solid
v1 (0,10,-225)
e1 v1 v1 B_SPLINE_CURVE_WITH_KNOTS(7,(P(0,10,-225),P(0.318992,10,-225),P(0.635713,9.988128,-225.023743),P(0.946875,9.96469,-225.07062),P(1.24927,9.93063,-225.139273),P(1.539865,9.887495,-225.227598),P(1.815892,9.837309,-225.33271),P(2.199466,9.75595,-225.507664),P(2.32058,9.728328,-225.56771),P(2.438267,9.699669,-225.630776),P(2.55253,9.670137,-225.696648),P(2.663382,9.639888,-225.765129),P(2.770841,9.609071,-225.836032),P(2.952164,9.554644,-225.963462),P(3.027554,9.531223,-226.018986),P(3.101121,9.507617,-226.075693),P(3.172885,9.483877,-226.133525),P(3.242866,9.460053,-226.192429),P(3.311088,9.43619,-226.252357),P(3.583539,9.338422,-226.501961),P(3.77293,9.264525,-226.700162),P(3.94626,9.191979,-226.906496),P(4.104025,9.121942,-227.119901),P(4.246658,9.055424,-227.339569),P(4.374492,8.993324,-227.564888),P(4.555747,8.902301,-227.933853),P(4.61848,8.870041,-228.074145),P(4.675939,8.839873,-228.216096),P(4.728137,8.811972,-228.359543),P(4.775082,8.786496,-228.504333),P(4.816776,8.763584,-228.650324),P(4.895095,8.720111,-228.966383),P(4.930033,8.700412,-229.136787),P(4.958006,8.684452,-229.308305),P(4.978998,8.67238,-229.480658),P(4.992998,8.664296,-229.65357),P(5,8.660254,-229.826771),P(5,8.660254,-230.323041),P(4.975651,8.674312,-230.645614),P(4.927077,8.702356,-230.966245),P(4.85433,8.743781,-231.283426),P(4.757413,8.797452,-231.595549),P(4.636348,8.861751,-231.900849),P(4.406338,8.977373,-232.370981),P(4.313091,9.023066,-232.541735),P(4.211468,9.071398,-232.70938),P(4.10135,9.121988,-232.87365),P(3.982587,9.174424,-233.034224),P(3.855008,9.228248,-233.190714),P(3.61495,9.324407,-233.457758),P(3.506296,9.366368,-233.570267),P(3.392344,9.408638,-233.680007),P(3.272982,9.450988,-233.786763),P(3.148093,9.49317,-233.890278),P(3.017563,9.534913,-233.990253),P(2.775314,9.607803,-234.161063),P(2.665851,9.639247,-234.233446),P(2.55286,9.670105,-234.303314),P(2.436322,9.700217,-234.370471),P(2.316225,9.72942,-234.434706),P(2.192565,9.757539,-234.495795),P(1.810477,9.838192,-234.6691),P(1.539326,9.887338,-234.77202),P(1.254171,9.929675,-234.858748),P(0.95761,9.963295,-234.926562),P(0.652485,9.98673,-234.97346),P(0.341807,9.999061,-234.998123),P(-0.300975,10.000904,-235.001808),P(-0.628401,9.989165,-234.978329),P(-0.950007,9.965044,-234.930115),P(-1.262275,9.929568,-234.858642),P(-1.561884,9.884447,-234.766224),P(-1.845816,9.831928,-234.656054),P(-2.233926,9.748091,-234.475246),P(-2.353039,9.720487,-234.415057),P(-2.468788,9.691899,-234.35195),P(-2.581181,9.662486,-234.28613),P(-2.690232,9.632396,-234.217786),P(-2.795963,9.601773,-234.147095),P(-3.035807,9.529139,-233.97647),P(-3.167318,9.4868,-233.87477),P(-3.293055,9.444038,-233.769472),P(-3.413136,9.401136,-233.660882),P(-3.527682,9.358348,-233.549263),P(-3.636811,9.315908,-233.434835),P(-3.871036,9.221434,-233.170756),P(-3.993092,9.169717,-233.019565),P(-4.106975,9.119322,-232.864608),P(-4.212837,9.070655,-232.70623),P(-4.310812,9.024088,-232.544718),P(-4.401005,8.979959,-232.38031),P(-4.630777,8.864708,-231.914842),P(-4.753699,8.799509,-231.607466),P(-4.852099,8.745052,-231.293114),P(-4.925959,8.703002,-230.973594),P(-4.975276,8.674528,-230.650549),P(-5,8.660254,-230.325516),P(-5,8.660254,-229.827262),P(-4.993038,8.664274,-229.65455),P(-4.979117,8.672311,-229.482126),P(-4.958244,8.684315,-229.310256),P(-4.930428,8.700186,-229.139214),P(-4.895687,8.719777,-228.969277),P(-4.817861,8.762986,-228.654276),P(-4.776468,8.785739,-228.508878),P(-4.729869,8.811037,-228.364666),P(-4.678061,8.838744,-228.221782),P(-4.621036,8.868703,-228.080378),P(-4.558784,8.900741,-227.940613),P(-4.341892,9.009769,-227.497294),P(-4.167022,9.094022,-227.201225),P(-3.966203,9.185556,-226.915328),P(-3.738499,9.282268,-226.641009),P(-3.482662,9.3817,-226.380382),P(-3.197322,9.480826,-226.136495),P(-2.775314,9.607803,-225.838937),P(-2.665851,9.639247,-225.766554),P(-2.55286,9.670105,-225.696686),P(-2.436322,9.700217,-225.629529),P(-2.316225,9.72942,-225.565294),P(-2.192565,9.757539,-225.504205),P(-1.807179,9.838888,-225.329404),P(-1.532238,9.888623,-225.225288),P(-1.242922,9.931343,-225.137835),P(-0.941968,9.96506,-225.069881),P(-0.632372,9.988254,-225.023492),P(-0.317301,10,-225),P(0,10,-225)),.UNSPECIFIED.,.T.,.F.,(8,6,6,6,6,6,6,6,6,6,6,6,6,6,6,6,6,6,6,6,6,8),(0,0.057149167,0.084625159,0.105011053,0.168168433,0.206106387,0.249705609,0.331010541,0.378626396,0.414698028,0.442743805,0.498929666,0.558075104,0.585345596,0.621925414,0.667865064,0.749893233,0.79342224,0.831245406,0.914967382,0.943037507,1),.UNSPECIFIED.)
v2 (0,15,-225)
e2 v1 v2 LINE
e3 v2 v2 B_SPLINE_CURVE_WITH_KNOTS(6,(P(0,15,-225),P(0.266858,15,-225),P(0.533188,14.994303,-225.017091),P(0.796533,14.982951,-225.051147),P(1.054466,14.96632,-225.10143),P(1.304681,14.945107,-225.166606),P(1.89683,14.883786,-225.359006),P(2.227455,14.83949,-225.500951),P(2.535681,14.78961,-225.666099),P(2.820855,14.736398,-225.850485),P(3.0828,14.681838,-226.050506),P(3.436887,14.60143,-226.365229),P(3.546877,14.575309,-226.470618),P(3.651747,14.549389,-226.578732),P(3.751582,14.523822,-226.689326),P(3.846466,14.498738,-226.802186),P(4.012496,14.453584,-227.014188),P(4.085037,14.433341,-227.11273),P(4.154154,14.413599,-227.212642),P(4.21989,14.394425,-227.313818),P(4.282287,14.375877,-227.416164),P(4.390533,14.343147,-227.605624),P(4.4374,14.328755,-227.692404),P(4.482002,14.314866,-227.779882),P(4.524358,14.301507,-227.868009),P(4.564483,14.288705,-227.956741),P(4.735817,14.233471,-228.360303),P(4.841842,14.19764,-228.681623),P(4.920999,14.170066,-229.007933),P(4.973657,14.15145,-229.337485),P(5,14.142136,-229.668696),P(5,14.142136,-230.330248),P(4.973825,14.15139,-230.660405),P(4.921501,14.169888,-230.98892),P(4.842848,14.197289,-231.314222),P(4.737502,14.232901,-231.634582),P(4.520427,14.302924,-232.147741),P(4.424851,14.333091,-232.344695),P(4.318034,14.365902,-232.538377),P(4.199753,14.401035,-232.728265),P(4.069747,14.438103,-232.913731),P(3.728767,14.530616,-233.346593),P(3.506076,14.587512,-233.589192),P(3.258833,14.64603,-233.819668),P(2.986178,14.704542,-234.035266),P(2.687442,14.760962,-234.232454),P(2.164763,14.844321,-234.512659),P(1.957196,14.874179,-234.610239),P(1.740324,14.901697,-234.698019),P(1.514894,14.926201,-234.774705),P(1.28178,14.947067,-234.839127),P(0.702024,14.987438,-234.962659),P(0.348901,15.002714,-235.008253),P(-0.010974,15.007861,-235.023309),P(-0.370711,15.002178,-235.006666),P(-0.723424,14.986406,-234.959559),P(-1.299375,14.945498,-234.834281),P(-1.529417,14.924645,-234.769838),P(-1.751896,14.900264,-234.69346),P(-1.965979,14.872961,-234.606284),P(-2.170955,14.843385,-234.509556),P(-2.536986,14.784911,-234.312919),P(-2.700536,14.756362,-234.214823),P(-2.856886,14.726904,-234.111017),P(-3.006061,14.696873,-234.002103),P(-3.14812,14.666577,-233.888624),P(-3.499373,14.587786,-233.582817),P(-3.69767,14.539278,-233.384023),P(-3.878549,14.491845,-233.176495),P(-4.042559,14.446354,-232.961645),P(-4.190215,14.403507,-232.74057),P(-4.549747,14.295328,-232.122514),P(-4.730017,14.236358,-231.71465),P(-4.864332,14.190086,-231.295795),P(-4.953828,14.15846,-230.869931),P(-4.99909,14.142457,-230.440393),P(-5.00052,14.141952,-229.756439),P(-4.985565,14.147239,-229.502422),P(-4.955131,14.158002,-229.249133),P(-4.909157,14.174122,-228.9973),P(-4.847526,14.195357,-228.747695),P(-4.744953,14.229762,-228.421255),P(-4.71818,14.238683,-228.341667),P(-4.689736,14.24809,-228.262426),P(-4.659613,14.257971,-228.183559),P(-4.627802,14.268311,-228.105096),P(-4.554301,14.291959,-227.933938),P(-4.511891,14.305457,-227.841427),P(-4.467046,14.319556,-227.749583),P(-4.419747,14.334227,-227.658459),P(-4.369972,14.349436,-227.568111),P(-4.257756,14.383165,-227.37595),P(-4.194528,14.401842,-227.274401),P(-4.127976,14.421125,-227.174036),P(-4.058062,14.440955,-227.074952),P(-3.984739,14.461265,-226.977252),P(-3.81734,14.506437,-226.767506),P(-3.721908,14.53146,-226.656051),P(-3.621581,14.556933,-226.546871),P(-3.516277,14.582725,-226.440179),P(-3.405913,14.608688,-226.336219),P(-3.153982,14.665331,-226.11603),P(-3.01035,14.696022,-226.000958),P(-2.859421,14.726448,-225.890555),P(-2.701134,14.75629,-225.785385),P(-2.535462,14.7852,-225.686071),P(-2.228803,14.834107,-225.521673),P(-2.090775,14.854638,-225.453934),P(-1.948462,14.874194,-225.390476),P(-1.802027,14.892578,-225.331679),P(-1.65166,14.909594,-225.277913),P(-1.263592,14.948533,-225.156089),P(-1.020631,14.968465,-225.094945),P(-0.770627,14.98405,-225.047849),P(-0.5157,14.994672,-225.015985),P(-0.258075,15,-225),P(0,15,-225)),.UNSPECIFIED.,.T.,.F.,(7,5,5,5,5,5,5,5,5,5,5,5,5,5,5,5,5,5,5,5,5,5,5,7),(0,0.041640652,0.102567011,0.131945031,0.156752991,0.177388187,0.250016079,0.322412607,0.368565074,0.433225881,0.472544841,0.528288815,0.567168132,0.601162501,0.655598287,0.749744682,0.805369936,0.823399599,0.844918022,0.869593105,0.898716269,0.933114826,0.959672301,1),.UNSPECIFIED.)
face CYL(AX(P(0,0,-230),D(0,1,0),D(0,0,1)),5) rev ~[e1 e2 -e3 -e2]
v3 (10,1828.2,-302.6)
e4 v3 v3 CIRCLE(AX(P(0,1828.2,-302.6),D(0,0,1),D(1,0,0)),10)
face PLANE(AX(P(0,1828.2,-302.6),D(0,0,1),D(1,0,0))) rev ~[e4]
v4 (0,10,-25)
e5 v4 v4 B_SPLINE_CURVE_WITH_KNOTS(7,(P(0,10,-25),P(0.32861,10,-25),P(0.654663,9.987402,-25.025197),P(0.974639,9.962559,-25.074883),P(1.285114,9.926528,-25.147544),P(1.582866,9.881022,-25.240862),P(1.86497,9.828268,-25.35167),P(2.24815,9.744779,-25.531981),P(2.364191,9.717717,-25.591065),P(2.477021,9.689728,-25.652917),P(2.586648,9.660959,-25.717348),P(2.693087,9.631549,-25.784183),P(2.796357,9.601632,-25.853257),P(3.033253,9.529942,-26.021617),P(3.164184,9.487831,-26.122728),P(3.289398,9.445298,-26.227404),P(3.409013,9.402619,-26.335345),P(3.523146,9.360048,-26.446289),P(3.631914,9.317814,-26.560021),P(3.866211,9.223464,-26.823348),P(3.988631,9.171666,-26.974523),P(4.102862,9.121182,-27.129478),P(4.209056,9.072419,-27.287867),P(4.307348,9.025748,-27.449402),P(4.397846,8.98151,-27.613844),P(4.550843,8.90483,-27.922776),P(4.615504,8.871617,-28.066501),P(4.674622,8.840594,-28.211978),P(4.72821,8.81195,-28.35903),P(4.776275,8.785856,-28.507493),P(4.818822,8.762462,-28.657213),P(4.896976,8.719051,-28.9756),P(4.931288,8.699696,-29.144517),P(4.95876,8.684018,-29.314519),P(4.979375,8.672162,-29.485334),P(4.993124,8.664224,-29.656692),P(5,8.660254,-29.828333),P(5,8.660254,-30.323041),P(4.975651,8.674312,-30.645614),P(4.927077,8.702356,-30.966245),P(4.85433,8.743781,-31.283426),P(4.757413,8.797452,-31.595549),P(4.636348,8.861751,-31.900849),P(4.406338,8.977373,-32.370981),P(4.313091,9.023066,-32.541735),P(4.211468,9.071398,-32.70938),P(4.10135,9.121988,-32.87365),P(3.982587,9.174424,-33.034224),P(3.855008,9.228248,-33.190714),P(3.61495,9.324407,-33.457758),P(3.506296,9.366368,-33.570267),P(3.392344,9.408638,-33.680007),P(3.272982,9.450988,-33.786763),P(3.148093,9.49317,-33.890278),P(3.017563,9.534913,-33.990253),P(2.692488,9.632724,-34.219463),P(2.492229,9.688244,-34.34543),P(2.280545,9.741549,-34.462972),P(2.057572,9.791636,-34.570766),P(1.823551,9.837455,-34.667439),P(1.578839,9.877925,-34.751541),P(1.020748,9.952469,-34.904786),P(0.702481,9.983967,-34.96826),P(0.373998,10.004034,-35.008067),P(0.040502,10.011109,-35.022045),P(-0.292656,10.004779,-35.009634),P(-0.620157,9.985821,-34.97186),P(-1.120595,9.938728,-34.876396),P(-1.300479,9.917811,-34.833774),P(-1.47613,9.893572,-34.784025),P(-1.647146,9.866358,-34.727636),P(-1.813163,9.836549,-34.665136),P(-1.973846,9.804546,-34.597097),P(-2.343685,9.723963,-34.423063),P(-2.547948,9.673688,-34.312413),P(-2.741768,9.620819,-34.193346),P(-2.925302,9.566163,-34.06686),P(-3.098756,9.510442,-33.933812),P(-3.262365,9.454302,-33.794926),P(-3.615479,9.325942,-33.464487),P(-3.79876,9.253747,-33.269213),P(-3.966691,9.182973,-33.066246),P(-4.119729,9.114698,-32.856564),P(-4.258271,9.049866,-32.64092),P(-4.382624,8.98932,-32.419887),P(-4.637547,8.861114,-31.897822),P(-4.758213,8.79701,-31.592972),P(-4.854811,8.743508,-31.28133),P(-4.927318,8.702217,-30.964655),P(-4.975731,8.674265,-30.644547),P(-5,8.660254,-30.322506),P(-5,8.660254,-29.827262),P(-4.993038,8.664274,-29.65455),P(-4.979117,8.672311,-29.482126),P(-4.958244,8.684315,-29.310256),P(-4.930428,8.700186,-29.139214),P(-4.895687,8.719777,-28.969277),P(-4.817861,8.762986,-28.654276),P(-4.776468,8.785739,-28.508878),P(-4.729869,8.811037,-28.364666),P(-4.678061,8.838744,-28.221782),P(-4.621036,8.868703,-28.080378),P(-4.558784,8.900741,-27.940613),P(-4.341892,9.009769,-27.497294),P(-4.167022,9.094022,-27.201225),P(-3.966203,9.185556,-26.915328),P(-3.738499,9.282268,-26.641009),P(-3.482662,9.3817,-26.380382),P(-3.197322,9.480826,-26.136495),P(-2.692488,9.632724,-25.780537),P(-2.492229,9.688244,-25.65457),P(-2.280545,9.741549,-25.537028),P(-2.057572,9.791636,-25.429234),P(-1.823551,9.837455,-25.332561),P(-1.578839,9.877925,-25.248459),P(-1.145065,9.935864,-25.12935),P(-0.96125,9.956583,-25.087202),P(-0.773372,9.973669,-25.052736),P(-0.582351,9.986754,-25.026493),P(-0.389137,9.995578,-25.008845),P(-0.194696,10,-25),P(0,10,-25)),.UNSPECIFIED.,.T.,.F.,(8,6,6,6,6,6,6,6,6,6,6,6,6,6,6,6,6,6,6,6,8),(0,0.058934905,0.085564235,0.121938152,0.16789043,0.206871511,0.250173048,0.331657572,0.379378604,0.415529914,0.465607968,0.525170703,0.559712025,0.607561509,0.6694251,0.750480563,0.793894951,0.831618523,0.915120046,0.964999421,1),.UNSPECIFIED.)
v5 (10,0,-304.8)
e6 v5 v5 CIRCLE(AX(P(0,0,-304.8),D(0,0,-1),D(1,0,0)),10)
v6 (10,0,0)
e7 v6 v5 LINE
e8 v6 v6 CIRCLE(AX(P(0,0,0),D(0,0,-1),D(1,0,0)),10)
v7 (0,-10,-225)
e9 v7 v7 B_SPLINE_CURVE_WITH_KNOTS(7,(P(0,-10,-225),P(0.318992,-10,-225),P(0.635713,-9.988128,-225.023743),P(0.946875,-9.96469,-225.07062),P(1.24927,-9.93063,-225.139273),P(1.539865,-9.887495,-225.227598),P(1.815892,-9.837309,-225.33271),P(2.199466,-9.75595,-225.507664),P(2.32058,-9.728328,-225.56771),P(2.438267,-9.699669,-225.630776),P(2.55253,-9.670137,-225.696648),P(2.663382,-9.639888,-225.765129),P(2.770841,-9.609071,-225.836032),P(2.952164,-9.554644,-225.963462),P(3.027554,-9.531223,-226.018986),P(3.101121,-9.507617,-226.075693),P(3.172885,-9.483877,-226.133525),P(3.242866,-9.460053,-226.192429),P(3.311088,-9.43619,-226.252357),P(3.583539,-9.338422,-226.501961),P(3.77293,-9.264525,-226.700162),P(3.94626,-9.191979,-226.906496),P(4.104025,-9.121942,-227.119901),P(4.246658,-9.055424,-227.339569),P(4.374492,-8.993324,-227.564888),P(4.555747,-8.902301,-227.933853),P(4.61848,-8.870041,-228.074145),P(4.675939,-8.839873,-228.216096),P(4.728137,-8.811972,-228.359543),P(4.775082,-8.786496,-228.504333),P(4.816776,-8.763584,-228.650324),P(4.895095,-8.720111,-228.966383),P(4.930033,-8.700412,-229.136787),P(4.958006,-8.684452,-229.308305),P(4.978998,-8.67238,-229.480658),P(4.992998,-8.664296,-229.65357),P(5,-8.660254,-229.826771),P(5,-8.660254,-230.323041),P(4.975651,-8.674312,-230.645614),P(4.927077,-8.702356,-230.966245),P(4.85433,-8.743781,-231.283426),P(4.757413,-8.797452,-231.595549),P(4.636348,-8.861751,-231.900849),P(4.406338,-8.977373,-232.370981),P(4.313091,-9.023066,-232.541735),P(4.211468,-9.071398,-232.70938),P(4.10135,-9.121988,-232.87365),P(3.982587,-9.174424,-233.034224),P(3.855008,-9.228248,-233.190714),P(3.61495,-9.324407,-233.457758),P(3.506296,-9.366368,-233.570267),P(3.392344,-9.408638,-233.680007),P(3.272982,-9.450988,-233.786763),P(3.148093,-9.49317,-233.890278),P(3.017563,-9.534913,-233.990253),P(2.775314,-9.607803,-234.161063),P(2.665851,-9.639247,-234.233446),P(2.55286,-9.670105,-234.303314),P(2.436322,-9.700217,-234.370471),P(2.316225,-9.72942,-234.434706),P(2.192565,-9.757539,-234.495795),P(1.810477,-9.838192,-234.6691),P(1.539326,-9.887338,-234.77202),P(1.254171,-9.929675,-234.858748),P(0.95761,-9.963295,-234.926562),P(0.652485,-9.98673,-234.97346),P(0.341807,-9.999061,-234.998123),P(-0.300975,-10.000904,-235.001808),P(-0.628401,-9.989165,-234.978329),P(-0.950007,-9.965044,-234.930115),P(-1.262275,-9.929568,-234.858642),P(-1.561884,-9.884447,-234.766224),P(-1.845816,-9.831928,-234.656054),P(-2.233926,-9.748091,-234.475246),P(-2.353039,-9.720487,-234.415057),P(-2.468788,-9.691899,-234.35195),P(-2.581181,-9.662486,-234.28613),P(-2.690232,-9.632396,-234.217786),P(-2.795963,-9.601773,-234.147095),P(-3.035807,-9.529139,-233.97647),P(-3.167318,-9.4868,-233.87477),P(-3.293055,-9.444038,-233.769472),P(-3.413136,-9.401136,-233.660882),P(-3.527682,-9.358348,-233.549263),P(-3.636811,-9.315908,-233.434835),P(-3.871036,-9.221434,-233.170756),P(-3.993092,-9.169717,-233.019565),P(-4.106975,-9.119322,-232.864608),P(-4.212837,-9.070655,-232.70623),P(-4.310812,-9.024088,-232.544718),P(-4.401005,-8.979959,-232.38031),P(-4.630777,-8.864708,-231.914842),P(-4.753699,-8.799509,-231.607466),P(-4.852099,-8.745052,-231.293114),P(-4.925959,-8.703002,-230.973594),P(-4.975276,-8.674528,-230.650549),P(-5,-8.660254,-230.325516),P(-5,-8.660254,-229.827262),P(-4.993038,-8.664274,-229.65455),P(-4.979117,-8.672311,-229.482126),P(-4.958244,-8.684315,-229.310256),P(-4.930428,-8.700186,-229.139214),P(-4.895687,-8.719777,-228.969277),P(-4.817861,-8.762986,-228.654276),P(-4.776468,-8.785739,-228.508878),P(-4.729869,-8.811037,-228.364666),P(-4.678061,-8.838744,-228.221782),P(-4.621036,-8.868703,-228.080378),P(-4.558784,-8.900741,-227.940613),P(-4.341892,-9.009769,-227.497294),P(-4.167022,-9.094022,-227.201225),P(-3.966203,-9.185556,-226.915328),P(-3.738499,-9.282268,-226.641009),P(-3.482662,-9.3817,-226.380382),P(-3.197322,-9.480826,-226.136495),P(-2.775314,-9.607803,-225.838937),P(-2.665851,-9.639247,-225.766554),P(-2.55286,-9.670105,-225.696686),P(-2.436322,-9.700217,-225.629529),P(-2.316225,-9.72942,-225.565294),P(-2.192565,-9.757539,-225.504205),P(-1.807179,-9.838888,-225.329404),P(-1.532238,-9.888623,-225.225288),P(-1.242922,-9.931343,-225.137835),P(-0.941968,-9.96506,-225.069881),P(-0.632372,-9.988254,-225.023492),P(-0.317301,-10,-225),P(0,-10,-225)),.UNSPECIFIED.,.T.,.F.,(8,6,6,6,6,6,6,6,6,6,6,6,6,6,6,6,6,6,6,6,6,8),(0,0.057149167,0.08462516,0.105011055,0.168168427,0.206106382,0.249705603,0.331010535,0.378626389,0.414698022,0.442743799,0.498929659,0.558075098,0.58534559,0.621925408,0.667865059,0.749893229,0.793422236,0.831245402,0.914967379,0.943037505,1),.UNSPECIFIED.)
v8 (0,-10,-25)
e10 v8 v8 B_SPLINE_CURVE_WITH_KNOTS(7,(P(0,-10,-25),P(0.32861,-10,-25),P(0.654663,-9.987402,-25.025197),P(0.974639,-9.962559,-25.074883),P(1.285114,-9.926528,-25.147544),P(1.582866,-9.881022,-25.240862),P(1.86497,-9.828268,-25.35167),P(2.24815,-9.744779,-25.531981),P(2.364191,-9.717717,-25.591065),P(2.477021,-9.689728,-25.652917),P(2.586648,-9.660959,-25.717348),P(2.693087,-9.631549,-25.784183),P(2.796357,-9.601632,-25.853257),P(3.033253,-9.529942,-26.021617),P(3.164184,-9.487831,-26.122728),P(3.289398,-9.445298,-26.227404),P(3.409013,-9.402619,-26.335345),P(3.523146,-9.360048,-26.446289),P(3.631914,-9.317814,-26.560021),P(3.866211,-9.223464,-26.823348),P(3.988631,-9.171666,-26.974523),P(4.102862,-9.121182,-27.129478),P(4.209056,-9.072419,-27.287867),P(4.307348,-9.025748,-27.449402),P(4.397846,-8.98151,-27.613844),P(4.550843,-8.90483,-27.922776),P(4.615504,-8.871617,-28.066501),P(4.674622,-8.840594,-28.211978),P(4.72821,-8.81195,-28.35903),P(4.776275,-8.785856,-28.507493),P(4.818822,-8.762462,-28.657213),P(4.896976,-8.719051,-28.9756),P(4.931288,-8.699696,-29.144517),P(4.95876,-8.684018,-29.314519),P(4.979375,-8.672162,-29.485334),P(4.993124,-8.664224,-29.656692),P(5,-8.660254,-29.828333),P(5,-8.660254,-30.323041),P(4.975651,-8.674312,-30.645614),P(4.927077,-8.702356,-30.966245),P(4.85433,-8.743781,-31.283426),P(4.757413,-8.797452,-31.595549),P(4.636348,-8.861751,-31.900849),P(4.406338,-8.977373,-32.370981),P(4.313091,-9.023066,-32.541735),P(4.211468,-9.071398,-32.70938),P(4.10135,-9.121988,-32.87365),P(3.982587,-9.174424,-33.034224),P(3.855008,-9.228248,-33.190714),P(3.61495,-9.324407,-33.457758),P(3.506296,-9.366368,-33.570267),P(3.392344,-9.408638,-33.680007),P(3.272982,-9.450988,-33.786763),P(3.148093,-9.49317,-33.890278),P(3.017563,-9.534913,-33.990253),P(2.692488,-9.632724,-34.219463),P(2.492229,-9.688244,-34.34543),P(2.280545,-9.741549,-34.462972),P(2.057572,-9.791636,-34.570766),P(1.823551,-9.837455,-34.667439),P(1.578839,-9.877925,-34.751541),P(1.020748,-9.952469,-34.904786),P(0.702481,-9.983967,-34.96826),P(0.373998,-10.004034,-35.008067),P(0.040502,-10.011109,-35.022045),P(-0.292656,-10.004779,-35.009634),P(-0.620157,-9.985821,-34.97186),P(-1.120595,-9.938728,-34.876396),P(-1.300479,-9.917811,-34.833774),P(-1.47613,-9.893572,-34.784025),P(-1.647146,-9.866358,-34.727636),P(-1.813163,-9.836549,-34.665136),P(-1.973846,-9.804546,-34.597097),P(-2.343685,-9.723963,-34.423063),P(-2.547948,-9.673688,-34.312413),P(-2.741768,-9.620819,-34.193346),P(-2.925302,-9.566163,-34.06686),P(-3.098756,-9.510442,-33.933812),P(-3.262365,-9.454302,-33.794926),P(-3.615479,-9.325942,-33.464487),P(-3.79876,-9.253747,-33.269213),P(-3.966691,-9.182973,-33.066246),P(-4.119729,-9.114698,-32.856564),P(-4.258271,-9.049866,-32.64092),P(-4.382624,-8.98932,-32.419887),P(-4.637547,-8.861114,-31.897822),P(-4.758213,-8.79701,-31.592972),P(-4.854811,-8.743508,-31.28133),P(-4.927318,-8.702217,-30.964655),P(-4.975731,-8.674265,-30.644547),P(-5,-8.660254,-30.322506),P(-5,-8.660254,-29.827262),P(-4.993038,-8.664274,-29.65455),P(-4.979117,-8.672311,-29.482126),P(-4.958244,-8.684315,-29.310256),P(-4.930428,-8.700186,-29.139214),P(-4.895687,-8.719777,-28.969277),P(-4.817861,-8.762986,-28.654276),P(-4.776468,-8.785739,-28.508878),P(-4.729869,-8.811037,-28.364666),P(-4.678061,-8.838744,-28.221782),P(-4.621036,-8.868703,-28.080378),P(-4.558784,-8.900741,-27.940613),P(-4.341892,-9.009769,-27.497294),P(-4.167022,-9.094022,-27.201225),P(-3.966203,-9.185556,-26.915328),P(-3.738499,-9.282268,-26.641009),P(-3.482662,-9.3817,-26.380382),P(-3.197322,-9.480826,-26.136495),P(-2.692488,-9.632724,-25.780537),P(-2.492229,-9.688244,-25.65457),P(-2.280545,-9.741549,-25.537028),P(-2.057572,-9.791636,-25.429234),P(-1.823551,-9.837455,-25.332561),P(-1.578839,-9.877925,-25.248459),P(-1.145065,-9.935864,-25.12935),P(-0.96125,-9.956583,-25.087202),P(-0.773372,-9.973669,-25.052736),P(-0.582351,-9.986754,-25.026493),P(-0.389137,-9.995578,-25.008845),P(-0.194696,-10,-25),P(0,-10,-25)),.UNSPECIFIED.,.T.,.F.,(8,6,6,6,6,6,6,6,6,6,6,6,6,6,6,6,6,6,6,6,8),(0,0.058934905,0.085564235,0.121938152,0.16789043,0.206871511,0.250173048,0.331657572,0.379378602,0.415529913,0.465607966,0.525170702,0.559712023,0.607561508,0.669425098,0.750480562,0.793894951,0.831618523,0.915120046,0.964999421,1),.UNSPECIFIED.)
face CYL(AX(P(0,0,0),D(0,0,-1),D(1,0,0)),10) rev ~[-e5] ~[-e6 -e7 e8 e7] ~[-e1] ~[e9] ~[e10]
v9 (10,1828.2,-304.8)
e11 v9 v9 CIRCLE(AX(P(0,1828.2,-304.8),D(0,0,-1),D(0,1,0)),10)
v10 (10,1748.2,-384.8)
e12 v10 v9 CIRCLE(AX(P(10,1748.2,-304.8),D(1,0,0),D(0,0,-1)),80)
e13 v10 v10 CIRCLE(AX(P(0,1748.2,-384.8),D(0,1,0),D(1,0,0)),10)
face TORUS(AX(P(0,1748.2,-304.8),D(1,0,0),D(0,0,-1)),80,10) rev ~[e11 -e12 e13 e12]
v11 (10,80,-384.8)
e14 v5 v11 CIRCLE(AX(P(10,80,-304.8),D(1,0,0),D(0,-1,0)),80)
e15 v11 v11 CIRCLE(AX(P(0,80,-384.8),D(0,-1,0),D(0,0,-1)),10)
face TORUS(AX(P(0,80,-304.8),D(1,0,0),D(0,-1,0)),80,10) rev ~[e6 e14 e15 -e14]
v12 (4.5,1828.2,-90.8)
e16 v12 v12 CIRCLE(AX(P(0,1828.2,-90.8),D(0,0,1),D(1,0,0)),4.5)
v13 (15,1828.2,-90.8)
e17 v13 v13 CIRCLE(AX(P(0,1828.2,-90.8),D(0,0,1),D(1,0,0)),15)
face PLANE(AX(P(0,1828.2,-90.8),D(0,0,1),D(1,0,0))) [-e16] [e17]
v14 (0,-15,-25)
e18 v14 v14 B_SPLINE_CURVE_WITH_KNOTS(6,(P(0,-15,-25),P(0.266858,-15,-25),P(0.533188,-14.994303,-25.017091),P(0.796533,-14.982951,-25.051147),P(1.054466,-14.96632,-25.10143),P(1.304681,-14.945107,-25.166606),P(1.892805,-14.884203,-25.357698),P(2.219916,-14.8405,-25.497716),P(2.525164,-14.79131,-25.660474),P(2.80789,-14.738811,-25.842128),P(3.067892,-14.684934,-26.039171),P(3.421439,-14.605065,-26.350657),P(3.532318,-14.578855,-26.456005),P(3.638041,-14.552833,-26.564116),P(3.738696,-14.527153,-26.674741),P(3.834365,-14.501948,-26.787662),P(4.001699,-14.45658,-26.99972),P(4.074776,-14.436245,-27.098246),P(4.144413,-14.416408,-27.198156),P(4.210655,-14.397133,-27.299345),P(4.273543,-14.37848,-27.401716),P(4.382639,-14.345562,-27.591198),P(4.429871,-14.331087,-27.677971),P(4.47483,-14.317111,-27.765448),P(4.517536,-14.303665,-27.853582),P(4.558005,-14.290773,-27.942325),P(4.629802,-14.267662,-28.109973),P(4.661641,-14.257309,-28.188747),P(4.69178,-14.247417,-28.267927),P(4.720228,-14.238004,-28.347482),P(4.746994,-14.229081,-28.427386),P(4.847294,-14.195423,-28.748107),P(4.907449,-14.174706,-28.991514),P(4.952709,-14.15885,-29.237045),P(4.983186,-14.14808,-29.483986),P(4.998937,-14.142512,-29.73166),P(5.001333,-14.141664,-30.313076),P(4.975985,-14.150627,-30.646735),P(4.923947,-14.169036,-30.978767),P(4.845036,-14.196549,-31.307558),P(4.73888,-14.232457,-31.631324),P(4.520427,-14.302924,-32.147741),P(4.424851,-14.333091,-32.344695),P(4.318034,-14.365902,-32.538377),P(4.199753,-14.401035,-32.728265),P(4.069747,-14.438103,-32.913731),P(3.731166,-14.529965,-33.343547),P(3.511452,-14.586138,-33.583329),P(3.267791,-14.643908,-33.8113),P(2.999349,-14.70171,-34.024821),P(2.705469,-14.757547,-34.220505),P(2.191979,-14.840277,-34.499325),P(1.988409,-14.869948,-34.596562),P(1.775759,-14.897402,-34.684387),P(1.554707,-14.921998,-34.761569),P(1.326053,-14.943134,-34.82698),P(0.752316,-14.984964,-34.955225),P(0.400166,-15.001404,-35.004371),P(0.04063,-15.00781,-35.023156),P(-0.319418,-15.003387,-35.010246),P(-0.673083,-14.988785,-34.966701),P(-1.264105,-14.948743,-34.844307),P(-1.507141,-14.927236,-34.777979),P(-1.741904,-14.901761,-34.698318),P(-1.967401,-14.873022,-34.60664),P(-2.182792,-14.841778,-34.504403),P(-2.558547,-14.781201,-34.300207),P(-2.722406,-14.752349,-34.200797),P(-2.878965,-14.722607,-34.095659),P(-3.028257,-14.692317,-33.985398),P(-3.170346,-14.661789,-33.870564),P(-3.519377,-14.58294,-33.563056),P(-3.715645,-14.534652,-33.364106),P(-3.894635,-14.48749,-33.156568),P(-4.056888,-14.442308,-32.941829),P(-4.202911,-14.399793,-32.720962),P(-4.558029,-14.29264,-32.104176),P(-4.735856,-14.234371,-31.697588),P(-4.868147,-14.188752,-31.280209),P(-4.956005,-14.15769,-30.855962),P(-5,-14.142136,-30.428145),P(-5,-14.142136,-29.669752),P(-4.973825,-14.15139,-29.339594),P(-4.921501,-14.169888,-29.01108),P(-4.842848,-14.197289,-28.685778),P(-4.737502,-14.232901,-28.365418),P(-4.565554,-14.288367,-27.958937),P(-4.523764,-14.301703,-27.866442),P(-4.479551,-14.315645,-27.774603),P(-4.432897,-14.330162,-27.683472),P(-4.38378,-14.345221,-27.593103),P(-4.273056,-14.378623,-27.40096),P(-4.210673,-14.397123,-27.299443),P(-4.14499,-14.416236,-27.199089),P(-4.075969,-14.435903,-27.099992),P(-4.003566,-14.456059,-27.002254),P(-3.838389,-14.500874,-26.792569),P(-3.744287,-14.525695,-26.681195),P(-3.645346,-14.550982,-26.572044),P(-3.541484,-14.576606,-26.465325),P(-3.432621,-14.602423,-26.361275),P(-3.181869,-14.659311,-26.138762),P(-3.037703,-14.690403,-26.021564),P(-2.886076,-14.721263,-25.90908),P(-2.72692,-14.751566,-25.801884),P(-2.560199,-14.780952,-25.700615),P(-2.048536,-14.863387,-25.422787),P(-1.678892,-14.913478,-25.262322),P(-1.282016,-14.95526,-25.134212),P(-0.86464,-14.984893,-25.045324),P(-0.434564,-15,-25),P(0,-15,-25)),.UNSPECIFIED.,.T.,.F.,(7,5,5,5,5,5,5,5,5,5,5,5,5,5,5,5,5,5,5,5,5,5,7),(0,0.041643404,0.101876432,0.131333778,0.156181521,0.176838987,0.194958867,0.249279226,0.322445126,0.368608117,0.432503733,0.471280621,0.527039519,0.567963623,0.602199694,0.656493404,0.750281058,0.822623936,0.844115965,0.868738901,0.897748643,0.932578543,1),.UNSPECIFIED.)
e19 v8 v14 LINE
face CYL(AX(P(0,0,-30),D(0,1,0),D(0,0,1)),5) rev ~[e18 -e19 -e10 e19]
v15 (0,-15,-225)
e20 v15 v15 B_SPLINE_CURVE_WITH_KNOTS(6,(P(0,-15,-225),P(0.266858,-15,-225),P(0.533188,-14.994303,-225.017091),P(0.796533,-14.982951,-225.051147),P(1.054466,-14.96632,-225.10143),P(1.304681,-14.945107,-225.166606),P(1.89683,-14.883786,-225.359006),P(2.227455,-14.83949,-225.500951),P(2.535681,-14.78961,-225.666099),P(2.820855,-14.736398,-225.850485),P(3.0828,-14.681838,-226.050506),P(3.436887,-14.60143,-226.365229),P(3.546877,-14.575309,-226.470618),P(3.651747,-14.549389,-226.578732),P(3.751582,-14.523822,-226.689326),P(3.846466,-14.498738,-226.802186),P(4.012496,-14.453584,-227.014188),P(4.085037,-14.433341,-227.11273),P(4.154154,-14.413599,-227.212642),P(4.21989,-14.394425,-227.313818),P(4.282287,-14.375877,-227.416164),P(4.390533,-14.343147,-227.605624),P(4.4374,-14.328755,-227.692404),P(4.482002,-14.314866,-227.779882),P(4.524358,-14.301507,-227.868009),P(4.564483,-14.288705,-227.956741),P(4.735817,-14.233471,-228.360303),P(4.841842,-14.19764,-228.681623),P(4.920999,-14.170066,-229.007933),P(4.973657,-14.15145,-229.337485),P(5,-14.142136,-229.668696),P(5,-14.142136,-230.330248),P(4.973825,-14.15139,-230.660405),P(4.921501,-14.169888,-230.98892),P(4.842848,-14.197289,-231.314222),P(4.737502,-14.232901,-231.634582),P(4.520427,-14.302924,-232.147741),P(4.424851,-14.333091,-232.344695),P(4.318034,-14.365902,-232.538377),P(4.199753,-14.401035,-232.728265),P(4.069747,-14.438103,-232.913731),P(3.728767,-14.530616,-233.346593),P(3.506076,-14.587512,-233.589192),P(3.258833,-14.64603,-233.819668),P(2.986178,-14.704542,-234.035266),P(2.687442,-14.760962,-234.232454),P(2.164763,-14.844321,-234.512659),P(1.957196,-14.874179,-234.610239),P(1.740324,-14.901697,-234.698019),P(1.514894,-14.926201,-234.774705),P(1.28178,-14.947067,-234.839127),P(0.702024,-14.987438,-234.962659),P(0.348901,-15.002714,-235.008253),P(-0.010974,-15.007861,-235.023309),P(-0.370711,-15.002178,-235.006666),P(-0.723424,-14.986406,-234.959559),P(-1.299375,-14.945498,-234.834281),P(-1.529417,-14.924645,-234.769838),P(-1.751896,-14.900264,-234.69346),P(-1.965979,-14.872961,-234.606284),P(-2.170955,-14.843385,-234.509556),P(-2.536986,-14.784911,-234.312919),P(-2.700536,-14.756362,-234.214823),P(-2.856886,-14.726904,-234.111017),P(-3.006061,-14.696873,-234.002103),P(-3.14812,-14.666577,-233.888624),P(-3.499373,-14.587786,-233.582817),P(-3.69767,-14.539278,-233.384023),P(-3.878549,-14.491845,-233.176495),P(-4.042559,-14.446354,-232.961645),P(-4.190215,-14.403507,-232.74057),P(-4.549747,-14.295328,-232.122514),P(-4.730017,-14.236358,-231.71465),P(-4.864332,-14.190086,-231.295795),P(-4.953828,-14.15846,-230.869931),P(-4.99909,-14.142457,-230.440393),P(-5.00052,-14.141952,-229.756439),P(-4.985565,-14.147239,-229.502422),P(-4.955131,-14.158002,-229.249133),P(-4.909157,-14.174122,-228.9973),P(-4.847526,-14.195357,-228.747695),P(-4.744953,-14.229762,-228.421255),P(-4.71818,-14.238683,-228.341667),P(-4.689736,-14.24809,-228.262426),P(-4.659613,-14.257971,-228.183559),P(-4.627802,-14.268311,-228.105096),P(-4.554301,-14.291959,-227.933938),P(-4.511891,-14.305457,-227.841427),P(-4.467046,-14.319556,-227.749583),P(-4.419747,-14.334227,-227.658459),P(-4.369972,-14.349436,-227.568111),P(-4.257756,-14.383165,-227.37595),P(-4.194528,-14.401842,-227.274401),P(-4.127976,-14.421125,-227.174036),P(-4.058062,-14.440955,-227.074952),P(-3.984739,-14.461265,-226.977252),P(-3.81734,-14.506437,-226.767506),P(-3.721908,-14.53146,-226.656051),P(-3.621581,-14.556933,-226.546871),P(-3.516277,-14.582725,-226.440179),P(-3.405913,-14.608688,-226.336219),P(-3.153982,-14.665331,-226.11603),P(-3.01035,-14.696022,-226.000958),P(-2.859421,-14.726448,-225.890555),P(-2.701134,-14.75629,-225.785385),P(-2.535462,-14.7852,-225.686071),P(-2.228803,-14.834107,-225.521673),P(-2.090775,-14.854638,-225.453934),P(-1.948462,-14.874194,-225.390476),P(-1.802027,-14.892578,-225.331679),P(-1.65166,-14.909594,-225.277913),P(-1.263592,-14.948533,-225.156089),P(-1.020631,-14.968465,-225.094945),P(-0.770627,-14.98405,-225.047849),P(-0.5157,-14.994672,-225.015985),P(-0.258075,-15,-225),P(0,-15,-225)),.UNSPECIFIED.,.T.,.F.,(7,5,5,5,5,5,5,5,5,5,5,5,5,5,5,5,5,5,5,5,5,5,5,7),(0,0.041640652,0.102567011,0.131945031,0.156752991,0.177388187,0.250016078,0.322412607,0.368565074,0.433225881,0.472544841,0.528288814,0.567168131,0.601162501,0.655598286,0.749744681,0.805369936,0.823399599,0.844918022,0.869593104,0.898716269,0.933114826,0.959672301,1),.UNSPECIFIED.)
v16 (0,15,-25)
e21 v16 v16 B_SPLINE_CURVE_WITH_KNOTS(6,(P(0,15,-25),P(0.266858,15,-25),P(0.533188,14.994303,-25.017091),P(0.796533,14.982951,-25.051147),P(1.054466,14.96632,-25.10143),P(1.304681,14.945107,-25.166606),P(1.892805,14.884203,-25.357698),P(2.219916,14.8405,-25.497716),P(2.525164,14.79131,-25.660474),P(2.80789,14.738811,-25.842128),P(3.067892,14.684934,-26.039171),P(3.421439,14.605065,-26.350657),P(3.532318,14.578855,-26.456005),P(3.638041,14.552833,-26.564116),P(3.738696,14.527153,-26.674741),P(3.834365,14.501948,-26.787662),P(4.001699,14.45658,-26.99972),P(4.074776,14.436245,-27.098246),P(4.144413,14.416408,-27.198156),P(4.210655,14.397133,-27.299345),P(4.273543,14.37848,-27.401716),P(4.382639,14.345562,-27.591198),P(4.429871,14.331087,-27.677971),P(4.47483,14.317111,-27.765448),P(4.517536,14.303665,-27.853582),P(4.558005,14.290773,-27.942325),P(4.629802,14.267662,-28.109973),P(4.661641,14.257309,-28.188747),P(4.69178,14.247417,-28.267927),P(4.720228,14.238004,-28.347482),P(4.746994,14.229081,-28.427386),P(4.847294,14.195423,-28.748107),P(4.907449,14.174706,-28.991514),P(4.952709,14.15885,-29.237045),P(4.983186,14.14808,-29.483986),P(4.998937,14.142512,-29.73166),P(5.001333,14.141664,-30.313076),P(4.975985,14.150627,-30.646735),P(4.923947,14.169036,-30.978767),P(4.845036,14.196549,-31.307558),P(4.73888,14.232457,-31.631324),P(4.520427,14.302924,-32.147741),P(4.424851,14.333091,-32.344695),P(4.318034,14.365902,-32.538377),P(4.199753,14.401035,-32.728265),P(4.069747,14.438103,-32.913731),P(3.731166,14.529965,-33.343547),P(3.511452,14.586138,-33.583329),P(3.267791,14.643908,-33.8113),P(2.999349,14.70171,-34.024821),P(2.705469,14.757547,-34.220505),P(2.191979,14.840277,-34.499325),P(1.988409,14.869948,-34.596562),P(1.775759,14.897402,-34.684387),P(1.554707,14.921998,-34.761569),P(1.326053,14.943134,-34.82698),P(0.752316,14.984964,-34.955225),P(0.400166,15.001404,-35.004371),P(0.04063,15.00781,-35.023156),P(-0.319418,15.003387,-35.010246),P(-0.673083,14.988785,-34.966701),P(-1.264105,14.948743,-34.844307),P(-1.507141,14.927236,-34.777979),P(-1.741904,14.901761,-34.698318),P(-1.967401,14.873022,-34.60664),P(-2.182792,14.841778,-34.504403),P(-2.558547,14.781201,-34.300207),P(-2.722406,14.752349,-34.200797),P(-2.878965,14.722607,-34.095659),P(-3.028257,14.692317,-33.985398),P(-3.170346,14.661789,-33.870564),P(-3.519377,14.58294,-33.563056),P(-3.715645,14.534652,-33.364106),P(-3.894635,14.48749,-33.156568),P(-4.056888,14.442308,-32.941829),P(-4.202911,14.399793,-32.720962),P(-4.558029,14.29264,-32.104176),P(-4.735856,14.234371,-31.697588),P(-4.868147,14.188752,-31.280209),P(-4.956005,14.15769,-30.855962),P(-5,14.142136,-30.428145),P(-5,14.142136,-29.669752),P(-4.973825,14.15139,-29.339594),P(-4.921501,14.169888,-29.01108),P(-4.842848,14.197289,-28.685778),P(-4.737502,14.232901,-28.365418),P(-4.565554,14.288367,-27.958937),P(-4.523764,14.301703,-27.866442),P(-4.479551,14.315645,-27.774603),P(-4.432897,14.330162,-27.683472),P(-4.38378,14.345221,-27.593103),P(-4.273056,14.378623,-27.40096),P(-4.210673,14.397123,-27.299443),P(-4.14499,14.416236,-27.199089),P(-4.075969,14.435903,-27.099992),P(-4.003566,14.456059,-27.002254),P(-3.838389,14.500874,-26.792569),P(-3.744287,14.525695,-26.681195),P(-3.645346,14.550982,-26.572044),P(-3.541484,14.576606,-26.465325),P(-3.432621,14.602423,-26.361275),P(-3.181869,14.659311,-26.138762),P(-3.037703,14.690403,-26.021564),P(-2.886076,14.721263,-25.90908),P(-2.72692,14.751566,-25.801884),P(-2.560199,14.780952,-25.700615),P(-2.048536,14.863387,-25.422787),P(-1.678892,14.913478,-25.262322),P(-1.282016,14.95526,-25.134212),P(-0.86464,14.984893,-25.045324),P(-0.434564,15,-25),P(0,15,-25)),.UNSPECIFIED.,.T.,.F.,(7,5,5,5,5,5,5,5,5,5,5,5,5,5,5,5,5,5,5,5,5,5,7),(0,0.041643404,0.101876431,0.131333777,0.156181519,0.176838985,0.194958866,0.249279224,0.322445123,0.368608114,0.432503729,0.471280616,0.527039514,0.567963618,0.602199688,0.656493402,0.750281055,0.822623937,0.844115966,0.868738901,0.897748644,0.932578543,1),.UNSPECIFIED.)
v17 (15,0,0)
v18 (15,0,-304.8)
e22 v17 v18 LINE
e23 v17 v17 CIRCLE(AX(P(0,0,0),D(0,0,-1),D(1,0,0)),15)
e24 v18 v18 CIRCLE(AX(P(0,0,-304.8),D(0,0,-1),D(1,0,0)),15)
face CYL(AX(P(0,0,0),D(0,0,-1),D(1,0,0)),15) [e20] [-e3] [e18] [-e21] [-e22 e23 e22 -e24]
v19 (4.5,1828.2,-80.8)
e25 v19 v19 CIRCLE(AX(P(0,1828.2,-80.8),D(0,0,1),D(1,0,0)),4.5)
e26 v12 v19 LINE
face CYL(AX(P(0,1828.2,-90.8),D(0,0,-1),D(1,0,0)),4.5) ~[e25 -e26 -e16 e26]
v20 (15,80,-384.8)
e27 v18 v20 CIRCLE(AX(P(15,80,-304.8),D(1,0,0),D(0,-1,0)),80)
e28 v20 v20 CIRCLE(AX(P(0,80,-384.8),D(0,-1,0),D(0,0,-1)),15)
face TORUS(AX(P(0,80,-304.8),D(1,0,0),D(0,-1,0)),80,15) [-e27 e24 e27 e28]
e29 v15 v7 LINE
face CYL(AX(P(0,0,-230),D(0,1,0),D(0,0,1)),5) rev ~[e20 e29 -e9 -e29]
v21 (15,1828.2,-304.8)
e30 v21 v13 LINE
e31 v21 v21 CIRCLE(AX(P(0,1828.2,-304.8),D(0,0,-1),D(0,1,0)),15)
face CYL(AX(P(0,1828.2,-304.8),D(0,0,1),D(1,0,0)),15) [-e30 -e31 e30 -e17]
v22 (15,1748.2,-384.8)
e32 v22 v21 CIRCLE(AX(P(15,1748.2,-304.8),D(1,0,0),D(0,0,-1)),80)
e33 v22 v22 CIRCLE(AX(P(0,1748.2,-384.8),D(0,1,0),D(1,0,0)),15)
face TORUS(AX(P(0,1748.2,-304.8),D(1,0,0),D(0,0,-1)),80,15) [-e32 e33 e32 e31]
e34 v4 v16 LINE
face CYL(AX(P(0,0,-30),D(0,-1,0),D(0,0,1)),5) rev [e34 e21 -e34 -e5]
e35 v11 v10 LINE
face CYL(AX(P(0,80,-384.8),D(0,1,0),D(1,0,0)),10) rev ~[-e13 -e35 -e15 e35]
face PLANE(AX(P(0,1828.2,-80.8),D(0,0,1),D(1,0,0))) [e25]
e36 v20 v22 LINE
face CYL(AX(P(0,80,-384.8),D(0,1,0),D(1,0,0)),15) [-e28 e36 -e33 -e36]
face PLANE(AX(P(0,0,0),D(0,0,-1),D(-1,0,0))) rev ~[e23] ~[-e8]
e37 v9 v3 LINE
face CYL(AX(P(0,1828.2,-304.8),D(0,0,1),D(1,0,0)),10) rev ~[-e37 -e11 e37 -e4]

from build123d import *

# Parameters (mm, degrees)
SKETCH2_R           = 15
SKETCH2_R_2         = 10
SKETCH5_R           = 5
CUT_EXTRUDE2_DEPTH  = 158.5
SKETCH6_R           = 30
CUT_EXTRUDE3_DEPTH  = 90.8
SKETCH9_R           = 10
BOSS_EXTRUDE2_DEPTH = 211.8
SKETCH10_R          = 4.5
BOSS_EXTRUDE3_DEPTH = 10


with BuildPart() as part:
    # Sweep2: sweep along a path in Sketch1
    with BuildLine(Plane(origin=(0, 0, 0), x_dir=(0, 0, -1), z_dir=(1, 0, 0))) as sweep2_path:
        Line((0, 0), (304.8, 0))
        ThreePointArc((304.8, 0), (361.368542495, 23.431457505), (384.8, 80))
        Line((384.8, 80), (384.8, 1748.2))
        ThreePointArc((384.8, 1748.2), (361.368542495, 1804.768542495), (304.8, 1828.2))
        Line((304.8, 1828.2), (0, 1828.2))
    # Sketch2 → Sweep2 (sweep)
    with BuildSketch(Plane.XY):
        with Locations((0, 1828.2)):
            Circle(SKETCH2_R)
        with Locations((0, 1828.2)):
            Circle(SKETCH2_R_2, mode=Mode.SUBTRACT)
    sweep(path=sweep2_path.line)

    # Sketch5 → Cut-Extrude2 (cut, symmetric)
    with BuildSketch(Plane(origin=(0, 0, 0), x_dir=(1, 0, 0), z_dir=(0, 1, 0))):
        with Locations(Location((0, 30, 0), (0, 0, 270))):
            Circle(SKETCH5_R)
        with Locations(Location((0, 230, 0), (0, 0, 270))):
            Circle(SKETCH5_R)
    extrude(amount=CUT_EXTRUDE2_DEPTH, both=True, mode=Mode.SUBTRACT)

    # Sketch6 → Cut-Extrude3 (cut)
    with BuildSketch(Plane.XY):
        with Locations((0, 1828.2)):
            Circle(SKETCH6_R)
    extrude(amount=-CUT_EXTRUDE3_DEPTH, mode=Mode.SUBTRACT)

    # Sketch9 → Boss-Extrude2 (add)
    with BuildSketch(Plane.XY.offset(-90.8)):
        with Locations((0, 1828.2)):
            Circle(SKETCH9_R)
    extrude(amount=-BOSS_EXTRUDE2_DEPTH)

    # Sketch10 → Boss-Extrude3 (add)
    with BuildSketch(Plane.XY.offset(-90.8)):
        with Locations((0, 1828.2)):
            Circle(SKETCH10_R)
    extrude(amount=BOSS_EXTRUDE3_DEPTH)


solid = part.part
